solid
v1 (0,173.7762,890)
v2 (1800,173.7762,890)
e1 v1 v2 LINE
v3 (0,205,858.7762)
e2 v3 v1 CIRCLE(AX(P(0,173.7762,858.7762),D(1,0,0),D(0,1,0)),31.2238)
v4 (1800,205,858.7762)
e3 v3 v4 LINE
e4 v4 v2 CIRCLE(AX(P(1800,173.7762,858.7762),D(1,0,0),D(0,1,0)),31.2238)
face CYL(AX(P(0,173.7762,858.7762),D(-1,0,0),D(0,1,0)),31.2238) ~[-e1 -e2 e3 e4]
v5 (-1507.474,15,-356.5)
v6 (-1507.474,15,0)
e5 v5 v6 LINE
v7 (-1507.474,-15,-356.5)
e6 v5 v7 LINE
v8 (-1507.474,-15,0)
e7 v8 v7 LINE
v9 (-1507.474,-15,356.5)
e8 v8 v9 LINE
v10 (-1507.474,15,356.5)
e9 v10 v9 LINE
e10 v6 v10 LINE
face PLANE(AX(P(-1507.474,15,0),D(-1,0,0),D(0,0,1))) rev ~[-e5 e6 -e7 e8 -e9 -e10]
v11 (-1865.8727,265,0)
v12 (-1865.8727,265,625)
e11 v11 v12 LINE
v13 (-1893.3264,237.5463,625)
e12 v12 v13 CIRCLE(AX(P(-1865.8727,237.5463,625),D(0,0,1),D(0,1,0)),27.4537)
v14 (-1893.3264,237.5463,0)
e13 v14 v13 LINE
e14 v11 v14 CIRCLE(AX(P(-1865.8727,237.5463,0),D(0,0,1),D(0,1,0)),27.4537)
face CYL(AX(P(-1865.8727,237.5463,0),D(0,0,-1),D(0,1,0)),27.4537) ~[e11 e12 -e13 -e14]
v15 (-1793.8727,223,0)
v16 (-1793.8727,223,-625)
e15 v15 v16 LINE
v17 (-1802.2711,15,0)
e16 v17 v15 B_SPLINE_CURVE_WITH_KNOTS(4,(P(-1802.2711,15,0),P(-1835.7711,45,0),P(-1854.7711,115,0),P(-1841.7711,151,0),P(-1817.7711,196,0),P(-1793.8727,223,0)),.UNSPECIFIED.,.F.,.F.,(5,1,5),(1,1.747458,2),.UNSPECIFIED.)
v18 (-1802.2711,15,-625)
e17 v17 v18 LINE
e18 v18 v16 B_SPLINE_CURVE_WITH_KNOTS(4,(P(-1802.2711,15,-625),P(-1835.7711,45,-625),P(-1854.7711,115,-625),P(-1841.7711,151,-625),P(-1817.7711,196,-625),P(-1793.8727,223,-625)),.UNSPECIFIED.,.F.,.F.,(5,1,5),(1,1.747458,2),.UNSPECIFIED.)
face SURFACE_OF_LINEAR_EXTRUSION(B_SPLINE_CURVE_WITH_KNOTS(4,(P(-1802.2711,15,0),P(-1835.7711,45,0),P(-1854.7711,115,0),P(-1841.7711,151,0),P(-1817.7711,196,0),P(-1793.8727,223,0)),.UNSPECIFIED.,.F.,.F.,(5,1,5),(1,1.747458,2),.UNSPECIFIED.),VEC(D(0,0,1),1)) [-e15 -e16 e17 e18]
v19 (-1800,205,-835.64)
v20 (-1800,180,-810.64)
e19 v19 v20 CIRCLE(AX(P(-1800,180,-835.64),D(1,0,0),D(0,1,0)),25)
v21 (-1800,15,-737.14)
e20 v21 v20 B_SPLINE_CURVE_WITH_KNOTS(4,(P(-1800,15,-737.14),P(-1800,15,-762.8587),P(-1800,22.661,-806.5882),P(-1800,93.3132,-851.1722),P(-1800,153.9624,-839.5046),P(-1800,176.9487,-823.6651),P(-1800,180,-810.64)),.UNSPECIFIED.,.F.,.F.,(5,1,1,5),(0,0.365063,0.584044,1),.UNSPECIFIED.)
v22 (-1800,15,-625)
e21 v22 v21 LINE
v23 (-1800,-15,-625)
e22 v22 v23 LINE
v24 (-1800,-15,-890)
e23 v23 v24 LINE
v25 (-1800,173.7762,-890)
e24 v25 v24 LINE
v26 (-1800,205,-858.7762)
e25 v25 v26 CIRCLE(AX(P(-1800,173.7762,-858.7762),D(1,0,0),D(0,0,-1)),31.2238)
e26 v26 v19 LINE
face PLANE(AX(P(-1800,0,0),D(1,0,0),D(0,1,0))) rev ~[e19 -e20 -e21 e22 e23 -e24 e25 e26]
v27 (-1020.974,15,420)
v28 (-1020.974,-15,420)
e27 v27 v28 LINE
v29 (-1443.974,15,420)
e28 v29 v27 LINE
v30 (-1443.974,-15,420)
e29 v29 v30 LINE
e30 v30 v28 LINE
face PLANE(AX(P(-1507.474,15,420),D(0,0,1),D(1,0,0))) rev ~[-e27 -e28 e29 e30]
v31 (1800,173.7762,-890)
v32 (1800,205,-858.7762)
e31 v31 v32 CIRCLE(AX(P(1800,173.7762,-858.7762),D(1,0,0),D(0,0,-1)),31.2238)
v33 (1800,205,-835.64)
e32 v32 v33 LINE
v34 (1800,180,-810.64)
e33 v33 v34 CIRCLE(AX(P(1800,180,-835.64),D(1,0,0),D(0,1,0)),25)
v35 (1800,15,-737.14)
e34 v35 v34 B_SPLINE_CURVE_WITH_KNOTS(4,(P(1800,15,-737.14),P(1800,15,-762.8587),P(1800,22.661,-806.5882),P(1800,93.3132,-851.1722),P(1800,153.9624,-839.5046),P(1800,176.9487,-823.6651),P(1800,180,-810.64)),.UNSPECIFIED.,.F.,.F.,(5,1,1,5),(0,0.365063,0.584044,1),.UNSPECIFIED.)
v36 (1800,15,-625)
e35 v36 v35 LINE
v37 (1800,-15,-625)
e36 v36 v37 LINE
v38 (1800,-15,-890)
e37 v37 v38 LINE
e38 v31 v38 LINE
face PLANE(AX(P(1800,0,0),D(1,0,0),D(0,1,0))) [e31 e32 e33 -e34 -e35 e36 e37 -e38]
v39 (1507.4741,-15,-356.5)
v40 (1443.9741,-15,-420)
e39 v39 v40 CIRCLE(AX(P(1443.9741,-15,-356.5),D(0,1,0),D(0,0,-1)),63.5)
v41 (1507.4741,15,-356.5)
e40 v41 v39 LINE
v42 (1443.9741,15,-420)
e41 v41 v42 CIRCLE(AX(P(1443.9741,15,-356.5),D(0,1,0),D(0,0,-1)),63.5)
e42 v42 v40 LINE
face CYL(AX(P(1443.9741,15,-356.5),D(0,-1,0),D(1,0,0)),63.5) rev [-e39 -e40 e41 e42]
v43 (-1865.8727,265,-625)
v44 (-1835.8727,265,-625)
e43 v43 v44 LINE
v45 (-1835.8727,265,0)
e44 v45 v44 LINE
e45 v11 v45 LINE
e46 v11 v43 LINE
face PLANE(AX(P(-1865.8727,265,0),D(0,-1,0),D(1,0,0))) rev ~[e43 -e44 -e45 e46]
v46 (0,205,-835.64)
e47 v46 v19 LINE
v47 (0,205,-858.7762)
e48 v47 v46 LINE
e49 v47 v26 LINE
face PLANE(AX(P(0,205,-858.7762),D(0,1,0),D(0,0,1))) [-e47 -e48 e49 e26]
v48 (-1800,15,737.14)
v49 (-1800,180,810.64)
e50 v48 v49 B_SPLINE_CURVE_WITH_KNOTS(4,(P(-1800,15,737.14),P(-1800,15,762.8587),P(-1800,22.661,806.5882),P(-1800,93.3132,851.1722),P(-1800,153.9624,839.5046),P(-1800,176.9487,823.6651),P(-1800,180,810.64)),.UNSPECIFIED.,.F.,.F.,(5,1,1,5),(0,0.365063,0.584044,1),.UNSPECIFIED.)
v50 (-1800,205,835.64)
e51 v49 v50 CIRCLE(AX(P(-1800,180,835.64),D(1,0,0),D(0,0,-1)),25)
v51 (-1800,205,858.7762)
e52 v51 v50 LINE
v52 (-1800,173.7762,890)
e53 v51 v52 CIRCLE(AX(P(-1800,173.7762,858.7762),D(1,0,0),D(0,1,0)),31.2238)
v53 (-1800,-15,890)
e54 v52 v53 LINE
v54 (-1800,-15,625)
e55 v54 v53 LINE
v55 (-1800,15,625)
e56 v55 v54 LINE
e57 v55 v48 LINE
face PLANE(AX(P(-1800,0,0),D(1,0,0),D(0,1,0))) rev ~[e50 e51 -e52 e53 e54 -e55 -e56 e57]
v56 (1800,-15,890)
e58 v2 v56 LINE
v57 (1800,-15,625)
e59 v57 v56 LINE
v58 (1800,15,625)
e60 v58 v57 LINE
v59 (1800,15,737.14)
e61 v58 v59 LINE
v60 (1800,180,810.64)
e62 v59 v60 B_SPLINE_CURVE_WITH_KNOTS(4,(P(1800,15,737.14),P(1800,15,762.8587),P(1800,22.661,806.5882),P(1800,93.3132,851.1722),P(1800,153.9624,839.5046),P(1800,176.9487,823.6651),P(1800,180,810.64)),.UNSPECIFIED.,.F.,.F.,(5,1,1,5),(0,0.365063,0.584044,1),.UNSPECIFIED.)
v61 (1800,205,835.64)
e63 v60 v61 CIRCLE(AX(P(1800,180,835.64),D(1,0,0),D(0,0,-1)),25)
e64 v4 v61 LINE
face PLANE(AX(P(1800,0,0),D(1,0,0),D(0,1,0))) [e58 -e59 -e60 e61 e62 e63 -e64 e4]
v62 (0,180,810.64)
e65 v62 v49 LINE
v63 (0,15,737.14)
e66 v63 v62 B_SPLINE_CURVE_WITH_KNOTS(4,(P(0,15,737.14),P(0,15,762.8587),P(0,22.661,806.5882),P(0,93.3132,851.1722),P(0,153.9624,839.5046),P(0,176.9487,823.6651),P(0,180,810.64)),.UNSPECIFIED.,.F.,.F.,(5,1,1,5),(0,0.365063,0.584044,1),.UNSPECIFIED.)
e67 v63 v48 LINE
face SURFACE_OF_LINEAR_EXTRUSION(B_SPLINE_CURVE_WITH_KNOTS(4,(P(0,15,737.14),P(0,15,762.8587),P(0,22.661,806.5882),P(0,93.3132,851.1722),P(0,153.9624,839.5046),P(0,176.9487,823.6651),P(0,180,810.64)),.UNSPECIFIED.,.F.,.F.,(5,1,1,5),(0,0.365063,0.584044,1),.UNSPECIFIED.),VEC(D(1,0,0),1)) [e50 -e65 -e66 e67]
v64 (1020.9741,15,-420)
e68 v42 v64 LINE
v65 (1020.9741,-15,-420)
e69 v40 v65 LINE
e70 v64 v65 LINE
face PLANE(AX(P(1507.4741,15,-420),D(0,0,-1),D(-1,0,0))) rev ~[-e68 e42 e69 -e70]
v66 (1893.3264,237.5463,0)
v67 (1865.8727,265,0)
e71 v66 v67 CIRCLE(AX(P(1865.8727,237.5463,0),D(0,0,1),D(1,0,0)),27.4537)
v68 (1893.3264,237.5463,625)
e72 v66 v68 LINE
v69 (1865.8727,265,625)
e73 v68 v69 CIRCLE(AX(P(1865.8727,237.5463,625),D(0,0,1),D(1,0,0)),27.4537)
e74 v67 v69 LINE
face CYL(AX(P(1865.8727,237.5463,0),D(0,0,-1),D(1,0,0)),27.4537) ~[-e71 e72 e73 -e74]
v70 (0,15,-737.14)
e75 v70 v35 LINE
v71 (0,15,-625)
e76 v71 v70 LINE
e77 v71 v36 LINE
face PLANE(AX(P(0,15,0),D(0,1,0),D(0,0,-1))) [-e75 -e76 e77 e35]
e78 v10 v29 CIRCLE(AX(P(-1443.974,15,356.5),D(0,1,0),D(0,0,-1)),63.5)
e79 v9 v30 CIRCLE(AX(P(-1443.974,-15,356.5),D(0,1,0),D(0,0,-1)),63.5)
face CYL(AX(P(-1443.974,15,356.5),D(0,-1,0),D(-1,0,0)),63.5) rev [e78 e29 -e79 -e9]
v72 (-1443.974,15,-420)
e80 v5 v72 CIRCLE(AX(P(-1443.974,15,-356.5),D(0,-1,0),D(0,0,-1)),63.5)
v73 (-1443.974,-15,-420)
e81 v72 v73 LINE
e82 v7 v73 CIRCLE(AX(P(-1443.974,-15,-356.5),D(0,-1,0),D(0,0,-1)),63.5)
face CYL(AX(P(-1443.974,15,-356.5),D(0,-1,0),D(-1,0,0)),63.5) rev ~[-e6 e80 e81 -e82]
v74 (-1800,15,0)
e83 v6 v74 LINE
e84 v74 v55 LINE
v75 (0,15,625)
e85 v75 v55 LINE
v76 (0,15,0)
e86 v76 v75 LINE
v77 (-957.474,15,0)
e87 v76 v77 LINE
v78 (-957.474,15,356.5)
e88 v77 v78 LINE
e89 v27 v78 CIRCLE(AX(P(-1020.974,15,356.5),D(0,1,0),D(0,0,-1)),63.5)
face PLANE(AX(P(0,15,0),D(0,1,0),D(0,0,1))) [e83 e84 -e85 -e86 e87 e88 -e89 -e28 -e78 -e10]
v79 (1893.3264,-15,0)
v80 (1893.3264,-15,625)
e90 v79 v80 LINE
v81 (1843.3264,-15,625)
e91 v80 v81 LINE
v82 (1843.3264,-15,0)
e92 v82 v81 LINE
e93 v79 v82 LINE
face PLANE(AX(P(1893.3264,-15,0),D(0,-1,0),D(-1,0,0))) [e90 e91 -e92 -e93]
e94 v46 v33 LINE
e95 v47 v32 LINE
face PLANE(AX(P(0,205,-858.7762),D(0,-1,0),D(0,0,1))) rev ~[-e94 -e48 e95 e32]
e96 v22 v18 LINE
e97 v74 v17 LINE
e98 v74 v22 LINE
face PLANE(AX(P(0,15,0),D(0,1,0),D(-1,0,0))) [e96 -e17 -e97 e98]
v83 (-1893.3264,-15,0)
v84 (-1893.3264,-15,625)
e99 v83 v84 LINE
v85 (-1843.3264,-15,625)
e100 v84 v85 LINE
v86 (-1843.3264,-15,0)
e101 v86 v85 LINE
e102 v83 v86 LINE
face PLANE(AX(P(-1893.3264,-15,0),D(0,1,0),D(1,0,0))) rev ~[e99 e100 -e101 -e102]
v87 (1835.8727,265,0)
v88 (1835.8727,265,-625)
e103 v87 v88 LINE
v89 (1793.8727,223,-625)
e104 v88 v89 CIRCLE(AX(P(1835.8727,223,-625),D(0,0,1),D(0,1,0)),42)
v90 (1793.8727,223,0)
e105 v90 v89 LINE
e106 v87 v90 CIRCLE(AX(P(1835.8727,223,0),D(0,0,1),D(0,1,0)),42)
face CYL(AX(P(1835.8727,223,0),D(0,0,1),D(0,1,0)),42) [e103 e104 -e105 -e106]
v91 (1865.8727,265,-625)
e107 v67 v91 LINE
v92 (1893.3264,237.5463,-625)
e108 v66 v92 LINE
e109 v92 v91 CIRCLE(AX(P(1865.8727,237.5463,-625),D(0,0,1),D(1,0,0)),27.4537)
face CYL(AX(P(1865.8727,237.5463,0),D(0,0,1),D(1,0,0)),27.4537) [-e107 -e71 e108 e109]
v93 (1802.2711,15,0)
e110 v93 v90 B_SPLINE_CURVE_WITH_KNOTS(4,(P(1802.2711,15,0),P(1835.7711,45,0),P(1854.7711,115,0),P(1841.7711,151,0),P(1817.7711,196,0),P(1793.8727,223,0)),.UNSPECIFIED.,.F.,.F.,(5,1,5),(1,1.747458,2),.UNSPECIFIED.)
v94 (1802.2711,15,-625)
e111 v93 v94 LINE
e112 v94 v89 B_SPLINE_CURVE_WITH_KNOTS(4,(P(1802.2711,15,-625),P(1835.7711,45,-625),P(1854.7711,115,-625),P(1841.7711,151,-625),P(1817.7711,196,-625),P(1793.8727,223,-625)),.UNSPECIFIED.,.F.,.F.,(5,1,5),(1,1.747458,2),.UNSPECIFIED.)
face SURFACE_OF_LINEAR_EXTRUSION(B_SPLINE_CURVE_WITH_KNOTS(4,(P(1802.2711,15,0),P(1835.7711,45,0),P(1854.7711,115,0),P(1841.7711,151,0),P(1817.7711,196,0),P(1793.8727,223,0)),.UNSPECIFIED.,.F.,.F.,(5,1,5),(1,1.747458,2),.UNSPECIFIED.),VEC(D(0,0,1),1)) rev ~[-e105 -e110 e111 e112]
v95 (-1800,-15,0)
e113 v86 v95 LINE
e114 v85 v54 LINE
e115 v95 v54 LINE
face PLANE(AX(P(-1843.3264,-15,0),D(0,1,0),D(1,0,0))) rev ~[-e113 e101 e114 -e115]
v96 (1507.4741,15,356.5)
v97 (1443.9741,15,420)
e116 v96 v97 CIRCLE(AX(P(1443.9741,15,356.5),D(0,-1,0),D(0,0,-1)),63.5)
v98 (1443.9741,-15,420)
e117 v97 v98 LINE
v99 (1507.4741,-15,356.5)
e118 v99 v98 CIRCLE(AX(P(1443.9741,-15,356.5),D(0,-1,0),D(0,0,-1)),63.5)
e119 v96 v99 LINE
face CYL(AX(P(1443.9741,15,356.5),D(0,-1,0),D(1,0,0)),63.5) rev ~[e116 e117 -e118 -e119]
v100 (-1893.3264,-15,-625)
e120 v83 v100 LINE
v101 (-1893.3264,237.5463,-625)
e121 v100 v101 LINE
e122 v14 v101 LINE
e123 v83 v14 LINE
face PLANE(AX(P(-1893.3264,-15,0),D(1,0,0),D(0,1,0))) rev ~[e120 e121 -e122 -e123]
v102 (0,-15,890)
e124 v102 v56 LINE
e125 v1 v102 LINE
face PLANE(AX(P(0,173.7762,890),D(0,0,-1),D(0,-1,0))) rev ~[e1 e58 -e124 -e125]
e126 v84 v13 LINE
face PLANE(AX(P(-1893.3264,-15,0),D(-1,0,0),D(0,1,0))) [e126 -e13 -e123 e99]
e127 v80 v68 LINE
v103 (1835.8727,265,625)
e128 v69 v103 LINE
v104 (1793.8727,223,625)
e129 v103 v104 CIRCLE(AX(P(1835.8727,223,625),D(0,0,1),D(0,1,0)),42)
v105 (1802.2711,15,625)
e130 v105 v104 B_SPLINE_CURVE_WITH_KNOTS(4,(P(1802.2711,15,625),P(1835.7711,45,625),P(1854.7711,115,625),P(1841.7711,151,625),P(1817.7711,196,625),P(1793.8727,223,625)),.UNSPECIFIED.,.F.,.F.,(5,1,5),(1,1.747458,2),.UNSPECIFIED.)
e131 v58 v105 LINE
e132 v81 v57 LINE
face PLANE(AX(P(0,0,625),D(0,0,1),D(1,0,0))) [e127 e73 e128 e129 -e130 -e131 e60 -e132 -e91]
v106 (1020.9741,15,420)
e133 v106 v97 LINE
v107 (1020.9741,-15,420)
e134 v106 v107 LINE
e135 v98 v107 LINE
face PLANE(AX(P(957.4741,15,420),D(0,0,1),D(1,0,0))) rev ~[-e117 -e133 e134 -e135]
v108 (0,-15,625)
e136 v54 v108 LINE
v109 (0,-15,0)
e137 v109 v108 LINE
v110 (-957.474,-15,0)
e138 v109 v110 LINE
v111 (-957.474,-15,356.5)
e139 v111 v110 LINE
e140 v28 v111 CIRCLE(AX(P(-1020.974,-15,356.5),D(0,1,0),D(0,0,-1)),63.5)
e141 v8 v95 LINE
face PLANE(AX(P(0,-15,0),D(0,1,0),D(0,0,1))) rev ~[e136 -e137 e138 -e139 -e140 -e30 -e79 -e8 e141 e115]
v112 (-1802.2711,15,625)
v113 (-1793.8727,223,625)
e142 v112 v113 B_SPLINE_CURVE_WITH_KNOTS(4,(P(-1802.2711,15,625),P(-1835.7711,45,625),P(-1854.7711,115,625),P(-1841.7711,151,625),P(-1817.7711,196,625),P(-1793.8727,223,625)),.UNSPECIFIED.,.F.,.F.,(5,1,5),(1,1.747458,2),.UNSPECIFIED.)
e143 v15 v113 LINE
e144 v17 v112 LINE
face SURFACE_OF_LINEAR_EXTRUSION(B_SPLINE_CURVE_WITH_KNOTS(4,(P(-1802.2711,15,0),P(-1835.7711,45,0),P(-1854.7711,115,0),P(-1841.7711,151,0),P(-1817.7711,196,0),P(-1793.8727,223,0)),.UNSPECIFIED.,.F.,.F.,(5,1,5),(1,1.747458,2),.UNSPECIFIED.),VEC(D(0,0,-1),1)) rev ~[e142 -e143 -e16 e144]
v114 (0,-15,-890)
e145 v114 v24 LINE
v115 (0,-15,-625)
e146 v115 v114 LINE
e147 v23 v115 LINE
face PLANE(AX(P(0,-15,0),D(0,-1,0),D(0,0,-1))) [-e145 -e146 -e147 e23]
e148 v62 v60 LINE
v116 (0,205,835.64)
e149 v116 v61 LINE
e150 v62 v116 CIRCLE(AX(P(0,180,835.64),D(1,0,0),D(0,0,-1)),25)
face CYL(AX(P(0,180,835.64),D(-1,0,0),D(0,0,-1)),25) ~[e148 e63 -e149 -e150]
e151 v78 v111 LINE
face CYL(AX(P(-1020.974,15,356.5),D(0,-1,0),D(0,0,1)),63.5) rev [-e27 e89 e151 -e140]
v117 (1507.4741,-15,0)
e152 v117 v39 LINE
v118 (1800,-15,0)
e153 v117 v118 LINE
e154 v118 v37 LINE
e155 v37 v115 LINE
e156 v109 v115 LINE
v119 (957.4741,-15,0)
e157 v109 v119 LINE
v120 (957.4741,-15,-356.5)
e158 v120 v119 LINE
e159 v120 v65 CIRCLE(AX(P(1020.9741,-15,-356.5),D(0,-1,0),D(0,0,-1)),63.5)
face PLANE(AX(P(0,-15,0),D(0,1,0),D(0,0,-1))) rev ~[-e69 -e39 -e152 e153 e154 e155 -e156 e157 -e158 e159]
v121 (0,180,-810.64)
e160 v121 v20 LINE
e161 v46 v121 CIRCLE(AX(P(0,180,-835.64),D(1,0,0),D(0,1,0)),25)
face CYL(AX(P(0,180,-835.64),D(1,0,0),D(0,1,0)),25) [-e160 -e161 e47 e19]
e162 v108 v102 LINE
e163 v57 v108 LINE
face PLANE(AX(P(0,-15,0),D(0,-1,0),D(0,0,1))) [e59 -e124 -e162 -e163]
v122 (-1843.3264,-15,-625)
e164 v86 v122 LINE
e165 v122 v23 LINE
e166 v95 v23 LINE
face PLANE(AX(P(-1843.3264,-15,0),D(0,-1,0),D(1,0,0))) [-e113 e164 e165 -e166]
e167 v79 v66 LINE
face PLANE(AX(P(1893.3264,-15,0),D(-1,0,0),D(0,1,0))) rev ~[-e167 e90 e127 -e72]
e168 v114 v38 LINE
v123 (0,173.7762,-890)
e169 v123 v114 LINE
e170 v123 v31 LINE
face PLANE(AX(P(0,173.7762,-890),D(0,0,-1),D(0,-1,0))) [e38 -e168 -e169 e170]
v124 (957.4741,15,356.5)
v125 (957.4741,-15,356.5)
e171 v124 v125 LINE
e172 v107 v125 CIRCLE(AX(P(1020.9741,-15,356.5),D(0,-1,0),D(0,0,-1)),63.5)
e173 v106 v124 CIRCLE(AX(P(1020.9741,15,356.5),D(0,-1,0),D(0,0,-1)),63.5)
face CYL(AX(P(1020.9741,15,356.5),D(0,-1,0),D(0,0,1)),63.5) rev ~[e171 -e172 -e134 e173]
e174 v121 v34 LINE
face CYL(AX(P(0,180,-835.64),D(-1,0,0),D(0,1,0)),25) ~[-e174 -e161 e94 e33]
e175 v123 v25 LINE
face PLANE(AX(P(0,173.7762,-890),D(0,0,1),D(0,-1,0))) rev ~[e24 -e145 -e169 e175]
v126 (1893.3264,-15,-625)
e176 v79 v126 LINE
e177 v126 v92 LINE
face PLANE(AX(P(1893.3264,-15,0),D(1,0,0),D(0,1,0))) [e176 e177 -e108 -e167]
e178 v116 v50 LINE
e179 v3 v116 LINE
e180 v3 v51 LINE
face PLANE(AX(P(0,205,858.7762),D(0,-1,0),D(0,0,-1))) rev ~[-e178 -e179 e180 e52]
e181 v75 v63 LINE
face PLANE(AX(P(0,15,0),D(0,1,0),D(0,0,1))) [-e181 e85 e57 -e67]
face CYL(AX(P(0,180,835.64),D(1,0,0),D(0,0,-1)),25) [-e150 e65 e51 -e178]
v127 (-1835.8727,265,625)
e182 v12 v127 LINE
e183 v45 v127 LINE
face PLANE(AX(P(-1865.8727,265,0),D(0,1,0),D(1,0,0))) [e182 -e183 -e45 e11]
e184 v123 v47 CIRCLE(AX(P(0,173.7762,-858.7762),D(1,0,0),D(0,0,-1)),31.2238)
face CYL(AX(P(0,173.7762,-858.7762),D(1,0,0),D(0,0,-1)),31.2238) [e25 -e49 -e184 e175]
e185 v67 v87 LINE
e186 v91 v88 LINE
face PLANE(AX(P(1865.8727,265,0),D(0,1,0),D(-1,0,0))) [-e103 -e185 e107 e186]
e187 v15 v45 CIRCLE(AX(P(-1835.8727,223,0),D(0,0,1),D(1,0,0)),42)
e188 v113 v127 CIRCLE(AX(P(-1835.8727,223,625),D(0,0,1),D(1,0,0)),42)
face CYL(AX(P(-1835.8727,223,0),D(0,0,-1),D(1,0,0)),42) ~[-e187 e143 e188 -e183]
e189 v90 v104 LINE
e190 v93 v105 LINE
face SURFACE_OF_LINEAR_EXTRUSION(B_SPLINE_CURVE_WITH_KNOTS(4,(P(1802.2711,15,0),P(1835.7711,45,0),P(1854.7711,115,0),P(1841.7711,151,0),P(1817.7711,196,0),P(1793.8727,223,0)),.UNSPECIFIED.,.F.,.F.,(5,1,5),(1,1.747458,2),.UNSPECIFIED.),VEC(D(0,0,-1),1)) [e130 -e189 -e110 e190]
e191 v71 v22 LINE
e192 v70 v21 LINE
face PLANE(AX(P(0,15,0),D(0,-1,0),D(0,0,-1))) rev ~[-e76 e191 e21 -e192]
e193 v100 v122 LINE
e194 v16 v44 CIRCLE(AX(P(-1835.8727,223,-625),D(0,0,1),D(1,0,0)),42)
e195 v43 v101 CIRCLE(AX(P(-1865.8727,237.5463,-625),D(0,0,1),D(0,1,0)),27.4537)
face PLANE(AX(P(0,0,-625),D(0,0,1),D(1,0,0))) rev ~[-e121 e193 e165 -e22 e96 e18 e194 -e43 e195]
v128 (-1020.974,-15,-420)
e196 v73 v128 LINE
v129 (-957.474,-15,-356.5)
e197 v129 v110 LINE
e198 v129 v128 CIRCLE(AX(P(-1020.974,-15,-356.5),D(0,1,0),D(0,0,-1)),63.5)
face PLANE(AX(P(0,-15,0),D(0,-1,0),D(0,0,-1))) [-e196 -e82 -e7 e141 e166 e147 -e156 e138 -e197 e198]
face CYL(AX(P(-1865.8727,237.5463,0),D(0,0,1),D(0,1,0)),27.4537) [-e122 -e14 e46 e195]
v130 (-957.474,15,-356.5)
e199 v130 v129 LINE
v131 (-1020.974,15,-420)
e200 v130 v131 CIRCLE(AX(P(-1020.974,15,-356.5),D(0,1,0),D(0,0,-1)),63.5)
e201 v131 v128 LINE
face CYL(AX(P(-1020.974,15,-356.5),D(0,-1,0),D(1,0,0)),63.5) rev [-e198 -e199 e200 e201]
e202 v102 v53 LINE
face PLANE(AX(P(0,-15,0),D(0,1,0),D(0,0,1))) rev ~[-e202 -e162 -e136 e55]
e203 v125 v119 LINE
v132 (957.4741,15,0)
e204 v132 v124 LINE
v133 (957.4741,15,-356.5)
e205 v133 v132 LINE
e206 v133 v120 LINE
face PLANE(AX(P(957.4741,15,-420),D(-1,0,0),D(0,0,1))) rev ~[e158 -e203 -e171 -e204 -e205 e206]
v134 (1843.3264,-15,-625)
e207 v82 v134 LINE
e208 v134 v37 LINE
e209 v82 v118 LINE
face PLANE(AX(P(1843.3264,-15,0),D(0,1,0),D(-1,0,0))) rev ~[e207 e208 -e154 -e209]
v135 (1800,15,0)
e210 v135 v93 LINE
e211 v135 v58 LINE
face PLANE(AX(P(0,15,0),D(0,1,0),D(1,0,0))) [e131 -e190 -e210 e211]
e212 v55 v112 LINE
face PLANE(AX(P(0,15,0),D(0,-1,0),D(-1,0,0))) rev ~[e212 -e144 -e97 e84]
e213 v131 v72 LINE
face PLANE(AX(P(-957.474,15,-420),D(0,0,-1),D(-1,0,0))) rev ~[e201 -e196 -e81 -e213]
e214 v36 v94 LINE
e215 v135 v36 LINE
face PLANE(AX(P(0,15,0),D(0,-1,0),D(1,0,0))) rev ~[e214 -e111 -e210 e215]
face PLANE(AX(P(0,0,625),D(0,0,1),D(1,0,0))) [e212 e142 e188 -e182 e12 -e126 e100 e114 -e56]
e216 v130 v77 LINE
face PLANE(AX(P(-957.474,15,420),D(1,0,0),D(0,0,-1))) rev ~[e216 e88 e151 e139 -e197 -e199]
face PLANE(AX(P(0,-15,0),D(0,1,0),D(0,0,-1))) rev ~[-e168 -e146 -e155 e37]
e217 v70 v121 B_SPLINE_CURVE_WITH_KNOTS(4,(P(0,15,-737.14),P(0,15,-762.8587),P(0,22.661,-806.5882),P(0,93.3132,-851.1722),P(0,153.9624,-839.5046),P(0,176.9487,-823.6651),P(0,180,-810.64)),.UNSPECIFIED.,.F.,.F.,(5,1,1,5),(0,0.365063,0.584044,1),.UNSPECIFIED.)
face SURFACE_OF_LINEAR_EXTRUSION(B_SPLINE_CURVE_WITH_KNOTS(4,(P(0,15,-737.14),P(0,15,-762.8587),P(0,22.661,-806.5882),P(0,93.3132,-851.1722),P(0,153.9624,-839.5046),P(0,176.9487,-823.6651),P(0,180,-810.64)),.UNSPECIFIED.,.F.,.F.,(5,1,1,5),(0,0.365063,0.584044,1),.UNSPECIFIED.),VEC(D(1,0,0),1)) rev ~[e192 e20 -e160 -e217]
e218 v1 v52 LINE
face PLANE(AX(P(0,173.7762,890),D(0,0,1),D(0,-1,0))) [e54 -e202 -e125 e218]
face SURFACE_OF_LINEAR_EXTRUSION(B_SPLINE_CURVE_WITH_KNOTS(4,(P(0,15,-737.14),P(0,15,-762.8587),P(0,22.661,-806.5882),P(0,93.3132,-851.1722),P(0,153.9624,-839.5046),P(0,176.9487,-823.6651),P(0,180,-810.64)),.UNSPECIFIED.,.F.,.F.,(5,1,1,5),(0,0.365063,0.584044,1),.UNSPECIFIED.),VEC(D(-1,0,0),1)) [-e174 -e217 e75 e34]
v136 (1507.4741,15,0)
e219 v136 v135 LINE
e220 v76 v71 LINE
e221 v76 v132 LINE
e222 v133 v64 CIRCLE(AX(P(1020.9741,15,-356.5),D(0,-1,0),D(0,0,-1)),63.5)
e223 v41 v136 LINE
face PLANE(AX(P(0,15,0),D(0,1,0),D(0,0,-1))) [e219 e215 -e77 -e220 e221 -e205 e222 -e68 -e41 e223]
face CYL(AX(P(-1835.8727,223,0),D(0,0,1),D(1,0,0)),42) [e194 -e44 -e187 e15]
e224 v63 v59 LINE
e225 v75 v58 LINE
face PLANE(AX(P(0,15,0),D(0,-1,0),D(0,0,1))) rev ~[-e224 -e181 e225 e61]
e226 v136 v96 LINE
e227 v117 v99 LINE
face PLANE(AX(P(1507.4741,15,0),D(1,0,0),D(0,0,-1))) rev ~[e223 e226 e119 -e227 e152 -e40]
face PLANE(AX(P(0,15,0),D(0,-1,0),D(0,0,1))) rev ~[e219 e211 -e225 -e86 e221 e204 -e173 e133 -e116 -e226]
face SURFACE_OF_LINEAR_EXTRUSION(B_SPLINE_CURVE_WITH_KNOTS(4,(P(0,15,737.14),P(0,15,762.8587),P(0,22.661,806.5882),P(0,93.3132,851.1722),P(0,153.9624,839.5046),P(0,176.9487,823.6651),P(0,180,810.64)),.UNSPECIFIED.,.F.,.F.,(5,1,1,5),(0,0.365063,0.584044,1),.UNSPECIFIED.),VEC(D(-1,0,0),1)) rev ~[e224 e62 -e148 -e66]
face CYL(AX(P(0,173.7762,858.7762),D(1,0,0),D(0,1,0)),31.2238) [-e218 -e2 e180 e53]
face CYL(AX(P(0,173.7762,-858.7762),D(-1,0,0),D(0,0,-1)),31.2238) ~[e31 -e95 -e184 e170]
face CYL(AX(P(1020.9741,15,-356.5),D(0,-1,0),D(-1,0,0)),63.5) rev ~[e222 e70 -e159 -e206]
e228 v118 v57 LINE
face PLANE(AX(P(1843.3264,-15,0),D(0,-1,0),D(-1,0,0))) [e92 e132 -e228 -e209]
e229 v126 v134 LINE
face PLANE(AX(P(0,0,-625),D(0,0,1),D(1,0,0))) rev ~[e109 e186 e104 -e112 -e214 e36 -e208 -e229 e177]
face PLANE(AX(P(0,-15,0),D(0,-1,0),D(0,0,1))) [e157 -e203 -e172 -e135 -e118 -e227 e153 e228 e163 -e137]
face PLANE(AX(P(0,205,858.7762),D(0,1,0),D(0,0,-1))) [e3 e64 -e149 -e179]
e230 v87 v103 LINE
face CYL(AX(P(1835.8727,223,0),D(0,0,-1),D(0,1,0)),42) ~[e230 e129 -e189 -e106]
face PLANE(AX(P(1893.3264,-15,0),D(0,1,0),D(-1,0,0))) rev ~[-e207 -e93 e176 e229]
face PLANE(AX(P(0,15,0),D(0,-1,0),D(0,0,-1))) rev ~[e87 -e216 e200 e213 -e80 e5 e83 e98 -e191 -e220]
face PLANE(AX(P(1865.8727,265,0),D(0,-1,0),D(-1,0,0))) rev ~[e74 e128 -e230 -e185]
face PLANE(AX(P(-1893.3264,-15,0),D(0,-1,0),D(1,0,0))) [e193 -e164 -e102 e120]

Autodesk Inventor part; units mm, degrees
ref_plane "YZ Plane" through (0, 0, 0) normal (1, 0, 0) x (0, 1, 0)
ref_plane "XZ Plane" through (0, 0, 0) normal (0, 1, 0) x (-1, 0, 0)
ref_plane "XY Plane" through (0, 0, 0) normal (0, 0, 1) x (1, 0, 0)
sketch "Sketch1" plane through (0, 0, 0) normal (1, 0, 0) x (0, 1, 0)
  arc A0 (180, 810.64) -> (205, 835.64) centre (180, 835.64) ccw
  arc A1 (205, 858.7762) -> (173.7762, 890) centre (173.7762, 858.7762) ccw
  line L0 (0, 0) -> (30.28, 0) construction
  line L1 (205, 858.7762) -> (205, 835.64)
  line L2 (15, 0) -> (-15, 0) construction
  line L3 (-15, 0) -> (-15, 890)
  line L4 (15, 0) -> (15, 737.14)
  line L5 (0, 0) -> (0, 51.3695) construction
  line L6 (173.7762, 890) -> (-15, 890)
  line L7 (119.6029, 0) -> (249.4149, 0) construction
  spline S0 degree 4 poles (15, 737.14) (15, 762.8587) (22.661, 806.5882) (93.3132, 851.1722) (153.9624, 839.5046) (176.9487, 823.6651) (180, 810.64) knots 0 0 0 0 0 0.365063 0.584044 1 1 1 1 1
  line L8 (238.5148, 856.7698) -> (95.5367, 856.7698) construction
  line L9 (93.5, 837.14) -> (143.5, 837.14) construction
  line L10 (118.5, 837.14) -> (118.5, 840) construction
  line L11 (180, -810.64) -> (180, -810.64)
  arc A2 (205, -835.64) -> (180, -810.64) centre (180, -835.64) ccw
  arc A3 (173.7762, -890) -> (205, -858.7762) centre (173.7762, -858.7762) ccw
  line L12 (205, -858.7762) -> (205, -835.64)
  line L13 (-15, 0) -> (-15, -890)
  line L14 (15, 0) -> (15, -737.14)
  line L15 (173.7762, -890) -> (-15, -890)
  spline S1 degree 4 poles (15, -737.14) (15, -762.8587) (22.661, -806.5882) (93.3132, -851.1722) (153.9624, -839.5046) (176.9487, -823.6651) (180, -810.64) knots 0 0 0 0 0 0.365063 0.584044 1 1 1 1 1
  line L16 (180, 810.64) -> (162.5735, 810.64) construction
  point P0 (178.1248, 805.5246)
  point P1 (35.5, 803.14)
  point P2 (170.5, 824.64)
  point P3 (35.5, -803.14)
  point P4 (93.5, -837.14)
  point P5 (143.5, -837.14)
  point P6 (170.5, -824.64)
  point P7 (180, -810.64)
  dimension "d145" = 23.1363
  dimension "d151" = 30
  dimension "d161" = 165
  dimension "d324" = 9.5
  dimension "d325" = 27
  dimension "d326" = 50
  dimension "d327" = 58
  dimension "d328" = 66
  dimension "d329" = 34
  dimension "d330" = 14
  dimension "d331" = 12.5
  dimension "d332" = 840
  dimension "d333" = 50
  dimension "d349" = 90
  dimension "d350" = 220
sketch "Sketch2" plane through (0, 0, 0) normal (0, 0, 1) x (1, 0, 0)
  line L0 (-1802.2711, 15) -> (-1835.7711, 45) construction
  spline S0 degree 4 poles (-1802.2711, 15) (-1835.7711, 45) (-1854.7711, 115) (-1841.7711, 151) (-1817.7711, 196) (-1793.8727, 223) knots 1 1 1 1 1 1.747458 2 2 2 2 2
  line L1 (-1817.7711, 196) -> (-1793.8727, 223) construction
  line L2 (-1835.7711, 45) -> (-1854.7711, 115) construction
  line L3 (-1854.7711, 115) -> (-1841.7711, 151) construction
  line L4 (-1841.7711, 151) -> (-1817.7711, 196) construction
  line L5 (-1843.3264, 190.8381) -> (-1843.3264, 47.3152) construction
  line L6 (-1893.3264, -15) -> (-1893.3264, 237.5463)
  line L7 (0, 0) -> (20, 0) construction
  line L8 (0, 0) -> (0, 15) construction
  line L9 (0, 15) -> (-1802.2711, 15)
  line L10 (-1865.8727, 265) -> (-1835.8727, 265)
  arc A0 (-1865.8727, 265) -> (-1893.3264, 237.5463) centre (-1865.8727, 237.5463) ccw
  arc A1 (-1793.8727, 223) -> (-1835.8727, 265) centre (-1835.8727, 223) ccw
  line L11 (-1843.3264, -15) -> (0, -15)
  line L12 (-1893.3264, -15) -> (-1843.3264, -15)
  line L13 (1793.8727, 223) -> (1793.8727, 223)
  spline S1 degree 4 poles (1802.2711, 15) (1835.7711, 45) (1854.7711, 115) (1841.7711, 151) (1817.7711, 196) (1793.8727, 223) knots 1 1 1 1 1 1.747458 2 2 2 2 2
  line L14 (1802.2711, 15) -> (1835.7711, 45) construction
  line L15 (1835.7711, 45) -> (1854.7711, 115) construction
  line L16 (1854.7711, 115) -> (1841.7711, 151) construction
  line L17 (1841.7711, 151) -> (1817.7711, 196) construction
  line L18 (1817.7711, 196) -> (1793.8727, 223) construction
  line L19 (1893.3264, -15) -> (1893.3264, 237.5463)
  line L20 (0, 15) -> (1802.2711, 15)
  line L21 (1865.8727, 265) -> (1835.8727, 265)
  arc A2 (1893.3264, 237.5463) -> (1865.8727, 265) centre (1865.8727, 237.5463) ccw
  arc A3 (1835.8727, 265) -> (1793.8727, 223) centre (1835.8727, 223) ccw
  line L22 (1843.3264, -15) -> (0, -15)
  line L23 (1893.3264, -15) -> (1843.3264, -15)
  line L24 (-1836.4162, 120.7995) -> (1835.4407, 120.7995) construction
  line L25 (1835.4407, 215.7869) -> (1835.4407, 25.812) construction
  line L26 (1835.4407, 25.812) -> (-1836.4162, 25.812) construction
  line L27 (-1836.4162, 25.812) -> (-1836.4162, 215.7869) construction
  line L28 (-1836.4162, 215.7869) -> (1835.4407, 215.7869) construction
  line L29 (1843.3264, 207.1179) -> (1843.3264, 57.9131) construction
  point P0 (1793.8727, 223)
  point P1 (-1843.3264, 119.0766)
  dimension "d132" = 27
  dimension "d133" = 45
  dimension "d134" = 36
  dimension "d135" = 70
  dimension "d136" = 30
  dimension "d137" = 33.5
  dimension "d138" = 19
  dimension "d139" = 13
  dimension "d140" = 24
  dimension "d141" = 23.8984
  dimension "d169" = 30
  dimension "d174" = 250
  dimension "d176" = 1843.3264
  dimension "d177" = 30
  dimension "d178" = 50
  dimension "d179" = 20
  dimension "d336" = 90
  dimension "d345" = 3686.6529
extrude "Extrusion3" add sketch "Sketch1" against normal mid plane 3600
extrude "Extrusion4" add sketch "Sketch2" along normal mid plane 1250
sketch "Sketch4" plane through (-1789.2984, 15, 559.8188) normal (0, 1, 0) x (1, 0, 0)
  line L0 (3676.7725, 1250) -> (3676.7725, 0) projected
  line L1 (3296.7725, 979.8188) -> (2746.7725, 979.8188)
  line L2 (2746.7725, 979.8188) -> (2746.7725, 139.8188)
  line L3 (2746.7725, 139.8188) -> (3296.7725, 139.8188)
  line L4 (3296.7725, 139.8188) -> (3296.7725, 979.8188)
  line L5 (4439.9554, 559.8188) -> (-861.3586, 559.8188) projected
  line L6 (1789.2984, 1805.8188) -> (1789.2984, -686.1812) projected
  line L7 (831.8244, 979.8188) -> (281.8244, 979.8188)
  line L8 (281.8244, 979.8188) -> (281.8244, 139.8188)
  line L9 (281.8244, 139.8188) -> (831.8244, 139.8188)
  line L10 (831.8244, 139.8188) -> (831.8244, 979.8188)
  point P0 (1789.2984, 559.8188)
  dimension "d90" = 420
  dimension "d91" = 420
  dimension "d92" = 550
  dimension "d93" = 380
  dimension "d98" = 957.474
  dimension "d99" = 957.474
  dimension "d100" = 550
extrude "Extrusion5" cut sketch "Sketch4" against normal blind 1200
fillet "Fillet1" radius 63.5 8 edges at (1507.474, 0, 420) (957.474, 0, 420) (957.474, 0, -420) (1507.474, 0, -420) (-1507.474, 0, -420) (-957.474, 0, -420) (-1507.474, 0, 420) (-957.474, 0, 420)
sketch "Sketch11" plane through (-1800, 15, -725.6356) normal (0, 1, 0) x (1, 0, 0)
  point P0 (1800, -725.6356)
